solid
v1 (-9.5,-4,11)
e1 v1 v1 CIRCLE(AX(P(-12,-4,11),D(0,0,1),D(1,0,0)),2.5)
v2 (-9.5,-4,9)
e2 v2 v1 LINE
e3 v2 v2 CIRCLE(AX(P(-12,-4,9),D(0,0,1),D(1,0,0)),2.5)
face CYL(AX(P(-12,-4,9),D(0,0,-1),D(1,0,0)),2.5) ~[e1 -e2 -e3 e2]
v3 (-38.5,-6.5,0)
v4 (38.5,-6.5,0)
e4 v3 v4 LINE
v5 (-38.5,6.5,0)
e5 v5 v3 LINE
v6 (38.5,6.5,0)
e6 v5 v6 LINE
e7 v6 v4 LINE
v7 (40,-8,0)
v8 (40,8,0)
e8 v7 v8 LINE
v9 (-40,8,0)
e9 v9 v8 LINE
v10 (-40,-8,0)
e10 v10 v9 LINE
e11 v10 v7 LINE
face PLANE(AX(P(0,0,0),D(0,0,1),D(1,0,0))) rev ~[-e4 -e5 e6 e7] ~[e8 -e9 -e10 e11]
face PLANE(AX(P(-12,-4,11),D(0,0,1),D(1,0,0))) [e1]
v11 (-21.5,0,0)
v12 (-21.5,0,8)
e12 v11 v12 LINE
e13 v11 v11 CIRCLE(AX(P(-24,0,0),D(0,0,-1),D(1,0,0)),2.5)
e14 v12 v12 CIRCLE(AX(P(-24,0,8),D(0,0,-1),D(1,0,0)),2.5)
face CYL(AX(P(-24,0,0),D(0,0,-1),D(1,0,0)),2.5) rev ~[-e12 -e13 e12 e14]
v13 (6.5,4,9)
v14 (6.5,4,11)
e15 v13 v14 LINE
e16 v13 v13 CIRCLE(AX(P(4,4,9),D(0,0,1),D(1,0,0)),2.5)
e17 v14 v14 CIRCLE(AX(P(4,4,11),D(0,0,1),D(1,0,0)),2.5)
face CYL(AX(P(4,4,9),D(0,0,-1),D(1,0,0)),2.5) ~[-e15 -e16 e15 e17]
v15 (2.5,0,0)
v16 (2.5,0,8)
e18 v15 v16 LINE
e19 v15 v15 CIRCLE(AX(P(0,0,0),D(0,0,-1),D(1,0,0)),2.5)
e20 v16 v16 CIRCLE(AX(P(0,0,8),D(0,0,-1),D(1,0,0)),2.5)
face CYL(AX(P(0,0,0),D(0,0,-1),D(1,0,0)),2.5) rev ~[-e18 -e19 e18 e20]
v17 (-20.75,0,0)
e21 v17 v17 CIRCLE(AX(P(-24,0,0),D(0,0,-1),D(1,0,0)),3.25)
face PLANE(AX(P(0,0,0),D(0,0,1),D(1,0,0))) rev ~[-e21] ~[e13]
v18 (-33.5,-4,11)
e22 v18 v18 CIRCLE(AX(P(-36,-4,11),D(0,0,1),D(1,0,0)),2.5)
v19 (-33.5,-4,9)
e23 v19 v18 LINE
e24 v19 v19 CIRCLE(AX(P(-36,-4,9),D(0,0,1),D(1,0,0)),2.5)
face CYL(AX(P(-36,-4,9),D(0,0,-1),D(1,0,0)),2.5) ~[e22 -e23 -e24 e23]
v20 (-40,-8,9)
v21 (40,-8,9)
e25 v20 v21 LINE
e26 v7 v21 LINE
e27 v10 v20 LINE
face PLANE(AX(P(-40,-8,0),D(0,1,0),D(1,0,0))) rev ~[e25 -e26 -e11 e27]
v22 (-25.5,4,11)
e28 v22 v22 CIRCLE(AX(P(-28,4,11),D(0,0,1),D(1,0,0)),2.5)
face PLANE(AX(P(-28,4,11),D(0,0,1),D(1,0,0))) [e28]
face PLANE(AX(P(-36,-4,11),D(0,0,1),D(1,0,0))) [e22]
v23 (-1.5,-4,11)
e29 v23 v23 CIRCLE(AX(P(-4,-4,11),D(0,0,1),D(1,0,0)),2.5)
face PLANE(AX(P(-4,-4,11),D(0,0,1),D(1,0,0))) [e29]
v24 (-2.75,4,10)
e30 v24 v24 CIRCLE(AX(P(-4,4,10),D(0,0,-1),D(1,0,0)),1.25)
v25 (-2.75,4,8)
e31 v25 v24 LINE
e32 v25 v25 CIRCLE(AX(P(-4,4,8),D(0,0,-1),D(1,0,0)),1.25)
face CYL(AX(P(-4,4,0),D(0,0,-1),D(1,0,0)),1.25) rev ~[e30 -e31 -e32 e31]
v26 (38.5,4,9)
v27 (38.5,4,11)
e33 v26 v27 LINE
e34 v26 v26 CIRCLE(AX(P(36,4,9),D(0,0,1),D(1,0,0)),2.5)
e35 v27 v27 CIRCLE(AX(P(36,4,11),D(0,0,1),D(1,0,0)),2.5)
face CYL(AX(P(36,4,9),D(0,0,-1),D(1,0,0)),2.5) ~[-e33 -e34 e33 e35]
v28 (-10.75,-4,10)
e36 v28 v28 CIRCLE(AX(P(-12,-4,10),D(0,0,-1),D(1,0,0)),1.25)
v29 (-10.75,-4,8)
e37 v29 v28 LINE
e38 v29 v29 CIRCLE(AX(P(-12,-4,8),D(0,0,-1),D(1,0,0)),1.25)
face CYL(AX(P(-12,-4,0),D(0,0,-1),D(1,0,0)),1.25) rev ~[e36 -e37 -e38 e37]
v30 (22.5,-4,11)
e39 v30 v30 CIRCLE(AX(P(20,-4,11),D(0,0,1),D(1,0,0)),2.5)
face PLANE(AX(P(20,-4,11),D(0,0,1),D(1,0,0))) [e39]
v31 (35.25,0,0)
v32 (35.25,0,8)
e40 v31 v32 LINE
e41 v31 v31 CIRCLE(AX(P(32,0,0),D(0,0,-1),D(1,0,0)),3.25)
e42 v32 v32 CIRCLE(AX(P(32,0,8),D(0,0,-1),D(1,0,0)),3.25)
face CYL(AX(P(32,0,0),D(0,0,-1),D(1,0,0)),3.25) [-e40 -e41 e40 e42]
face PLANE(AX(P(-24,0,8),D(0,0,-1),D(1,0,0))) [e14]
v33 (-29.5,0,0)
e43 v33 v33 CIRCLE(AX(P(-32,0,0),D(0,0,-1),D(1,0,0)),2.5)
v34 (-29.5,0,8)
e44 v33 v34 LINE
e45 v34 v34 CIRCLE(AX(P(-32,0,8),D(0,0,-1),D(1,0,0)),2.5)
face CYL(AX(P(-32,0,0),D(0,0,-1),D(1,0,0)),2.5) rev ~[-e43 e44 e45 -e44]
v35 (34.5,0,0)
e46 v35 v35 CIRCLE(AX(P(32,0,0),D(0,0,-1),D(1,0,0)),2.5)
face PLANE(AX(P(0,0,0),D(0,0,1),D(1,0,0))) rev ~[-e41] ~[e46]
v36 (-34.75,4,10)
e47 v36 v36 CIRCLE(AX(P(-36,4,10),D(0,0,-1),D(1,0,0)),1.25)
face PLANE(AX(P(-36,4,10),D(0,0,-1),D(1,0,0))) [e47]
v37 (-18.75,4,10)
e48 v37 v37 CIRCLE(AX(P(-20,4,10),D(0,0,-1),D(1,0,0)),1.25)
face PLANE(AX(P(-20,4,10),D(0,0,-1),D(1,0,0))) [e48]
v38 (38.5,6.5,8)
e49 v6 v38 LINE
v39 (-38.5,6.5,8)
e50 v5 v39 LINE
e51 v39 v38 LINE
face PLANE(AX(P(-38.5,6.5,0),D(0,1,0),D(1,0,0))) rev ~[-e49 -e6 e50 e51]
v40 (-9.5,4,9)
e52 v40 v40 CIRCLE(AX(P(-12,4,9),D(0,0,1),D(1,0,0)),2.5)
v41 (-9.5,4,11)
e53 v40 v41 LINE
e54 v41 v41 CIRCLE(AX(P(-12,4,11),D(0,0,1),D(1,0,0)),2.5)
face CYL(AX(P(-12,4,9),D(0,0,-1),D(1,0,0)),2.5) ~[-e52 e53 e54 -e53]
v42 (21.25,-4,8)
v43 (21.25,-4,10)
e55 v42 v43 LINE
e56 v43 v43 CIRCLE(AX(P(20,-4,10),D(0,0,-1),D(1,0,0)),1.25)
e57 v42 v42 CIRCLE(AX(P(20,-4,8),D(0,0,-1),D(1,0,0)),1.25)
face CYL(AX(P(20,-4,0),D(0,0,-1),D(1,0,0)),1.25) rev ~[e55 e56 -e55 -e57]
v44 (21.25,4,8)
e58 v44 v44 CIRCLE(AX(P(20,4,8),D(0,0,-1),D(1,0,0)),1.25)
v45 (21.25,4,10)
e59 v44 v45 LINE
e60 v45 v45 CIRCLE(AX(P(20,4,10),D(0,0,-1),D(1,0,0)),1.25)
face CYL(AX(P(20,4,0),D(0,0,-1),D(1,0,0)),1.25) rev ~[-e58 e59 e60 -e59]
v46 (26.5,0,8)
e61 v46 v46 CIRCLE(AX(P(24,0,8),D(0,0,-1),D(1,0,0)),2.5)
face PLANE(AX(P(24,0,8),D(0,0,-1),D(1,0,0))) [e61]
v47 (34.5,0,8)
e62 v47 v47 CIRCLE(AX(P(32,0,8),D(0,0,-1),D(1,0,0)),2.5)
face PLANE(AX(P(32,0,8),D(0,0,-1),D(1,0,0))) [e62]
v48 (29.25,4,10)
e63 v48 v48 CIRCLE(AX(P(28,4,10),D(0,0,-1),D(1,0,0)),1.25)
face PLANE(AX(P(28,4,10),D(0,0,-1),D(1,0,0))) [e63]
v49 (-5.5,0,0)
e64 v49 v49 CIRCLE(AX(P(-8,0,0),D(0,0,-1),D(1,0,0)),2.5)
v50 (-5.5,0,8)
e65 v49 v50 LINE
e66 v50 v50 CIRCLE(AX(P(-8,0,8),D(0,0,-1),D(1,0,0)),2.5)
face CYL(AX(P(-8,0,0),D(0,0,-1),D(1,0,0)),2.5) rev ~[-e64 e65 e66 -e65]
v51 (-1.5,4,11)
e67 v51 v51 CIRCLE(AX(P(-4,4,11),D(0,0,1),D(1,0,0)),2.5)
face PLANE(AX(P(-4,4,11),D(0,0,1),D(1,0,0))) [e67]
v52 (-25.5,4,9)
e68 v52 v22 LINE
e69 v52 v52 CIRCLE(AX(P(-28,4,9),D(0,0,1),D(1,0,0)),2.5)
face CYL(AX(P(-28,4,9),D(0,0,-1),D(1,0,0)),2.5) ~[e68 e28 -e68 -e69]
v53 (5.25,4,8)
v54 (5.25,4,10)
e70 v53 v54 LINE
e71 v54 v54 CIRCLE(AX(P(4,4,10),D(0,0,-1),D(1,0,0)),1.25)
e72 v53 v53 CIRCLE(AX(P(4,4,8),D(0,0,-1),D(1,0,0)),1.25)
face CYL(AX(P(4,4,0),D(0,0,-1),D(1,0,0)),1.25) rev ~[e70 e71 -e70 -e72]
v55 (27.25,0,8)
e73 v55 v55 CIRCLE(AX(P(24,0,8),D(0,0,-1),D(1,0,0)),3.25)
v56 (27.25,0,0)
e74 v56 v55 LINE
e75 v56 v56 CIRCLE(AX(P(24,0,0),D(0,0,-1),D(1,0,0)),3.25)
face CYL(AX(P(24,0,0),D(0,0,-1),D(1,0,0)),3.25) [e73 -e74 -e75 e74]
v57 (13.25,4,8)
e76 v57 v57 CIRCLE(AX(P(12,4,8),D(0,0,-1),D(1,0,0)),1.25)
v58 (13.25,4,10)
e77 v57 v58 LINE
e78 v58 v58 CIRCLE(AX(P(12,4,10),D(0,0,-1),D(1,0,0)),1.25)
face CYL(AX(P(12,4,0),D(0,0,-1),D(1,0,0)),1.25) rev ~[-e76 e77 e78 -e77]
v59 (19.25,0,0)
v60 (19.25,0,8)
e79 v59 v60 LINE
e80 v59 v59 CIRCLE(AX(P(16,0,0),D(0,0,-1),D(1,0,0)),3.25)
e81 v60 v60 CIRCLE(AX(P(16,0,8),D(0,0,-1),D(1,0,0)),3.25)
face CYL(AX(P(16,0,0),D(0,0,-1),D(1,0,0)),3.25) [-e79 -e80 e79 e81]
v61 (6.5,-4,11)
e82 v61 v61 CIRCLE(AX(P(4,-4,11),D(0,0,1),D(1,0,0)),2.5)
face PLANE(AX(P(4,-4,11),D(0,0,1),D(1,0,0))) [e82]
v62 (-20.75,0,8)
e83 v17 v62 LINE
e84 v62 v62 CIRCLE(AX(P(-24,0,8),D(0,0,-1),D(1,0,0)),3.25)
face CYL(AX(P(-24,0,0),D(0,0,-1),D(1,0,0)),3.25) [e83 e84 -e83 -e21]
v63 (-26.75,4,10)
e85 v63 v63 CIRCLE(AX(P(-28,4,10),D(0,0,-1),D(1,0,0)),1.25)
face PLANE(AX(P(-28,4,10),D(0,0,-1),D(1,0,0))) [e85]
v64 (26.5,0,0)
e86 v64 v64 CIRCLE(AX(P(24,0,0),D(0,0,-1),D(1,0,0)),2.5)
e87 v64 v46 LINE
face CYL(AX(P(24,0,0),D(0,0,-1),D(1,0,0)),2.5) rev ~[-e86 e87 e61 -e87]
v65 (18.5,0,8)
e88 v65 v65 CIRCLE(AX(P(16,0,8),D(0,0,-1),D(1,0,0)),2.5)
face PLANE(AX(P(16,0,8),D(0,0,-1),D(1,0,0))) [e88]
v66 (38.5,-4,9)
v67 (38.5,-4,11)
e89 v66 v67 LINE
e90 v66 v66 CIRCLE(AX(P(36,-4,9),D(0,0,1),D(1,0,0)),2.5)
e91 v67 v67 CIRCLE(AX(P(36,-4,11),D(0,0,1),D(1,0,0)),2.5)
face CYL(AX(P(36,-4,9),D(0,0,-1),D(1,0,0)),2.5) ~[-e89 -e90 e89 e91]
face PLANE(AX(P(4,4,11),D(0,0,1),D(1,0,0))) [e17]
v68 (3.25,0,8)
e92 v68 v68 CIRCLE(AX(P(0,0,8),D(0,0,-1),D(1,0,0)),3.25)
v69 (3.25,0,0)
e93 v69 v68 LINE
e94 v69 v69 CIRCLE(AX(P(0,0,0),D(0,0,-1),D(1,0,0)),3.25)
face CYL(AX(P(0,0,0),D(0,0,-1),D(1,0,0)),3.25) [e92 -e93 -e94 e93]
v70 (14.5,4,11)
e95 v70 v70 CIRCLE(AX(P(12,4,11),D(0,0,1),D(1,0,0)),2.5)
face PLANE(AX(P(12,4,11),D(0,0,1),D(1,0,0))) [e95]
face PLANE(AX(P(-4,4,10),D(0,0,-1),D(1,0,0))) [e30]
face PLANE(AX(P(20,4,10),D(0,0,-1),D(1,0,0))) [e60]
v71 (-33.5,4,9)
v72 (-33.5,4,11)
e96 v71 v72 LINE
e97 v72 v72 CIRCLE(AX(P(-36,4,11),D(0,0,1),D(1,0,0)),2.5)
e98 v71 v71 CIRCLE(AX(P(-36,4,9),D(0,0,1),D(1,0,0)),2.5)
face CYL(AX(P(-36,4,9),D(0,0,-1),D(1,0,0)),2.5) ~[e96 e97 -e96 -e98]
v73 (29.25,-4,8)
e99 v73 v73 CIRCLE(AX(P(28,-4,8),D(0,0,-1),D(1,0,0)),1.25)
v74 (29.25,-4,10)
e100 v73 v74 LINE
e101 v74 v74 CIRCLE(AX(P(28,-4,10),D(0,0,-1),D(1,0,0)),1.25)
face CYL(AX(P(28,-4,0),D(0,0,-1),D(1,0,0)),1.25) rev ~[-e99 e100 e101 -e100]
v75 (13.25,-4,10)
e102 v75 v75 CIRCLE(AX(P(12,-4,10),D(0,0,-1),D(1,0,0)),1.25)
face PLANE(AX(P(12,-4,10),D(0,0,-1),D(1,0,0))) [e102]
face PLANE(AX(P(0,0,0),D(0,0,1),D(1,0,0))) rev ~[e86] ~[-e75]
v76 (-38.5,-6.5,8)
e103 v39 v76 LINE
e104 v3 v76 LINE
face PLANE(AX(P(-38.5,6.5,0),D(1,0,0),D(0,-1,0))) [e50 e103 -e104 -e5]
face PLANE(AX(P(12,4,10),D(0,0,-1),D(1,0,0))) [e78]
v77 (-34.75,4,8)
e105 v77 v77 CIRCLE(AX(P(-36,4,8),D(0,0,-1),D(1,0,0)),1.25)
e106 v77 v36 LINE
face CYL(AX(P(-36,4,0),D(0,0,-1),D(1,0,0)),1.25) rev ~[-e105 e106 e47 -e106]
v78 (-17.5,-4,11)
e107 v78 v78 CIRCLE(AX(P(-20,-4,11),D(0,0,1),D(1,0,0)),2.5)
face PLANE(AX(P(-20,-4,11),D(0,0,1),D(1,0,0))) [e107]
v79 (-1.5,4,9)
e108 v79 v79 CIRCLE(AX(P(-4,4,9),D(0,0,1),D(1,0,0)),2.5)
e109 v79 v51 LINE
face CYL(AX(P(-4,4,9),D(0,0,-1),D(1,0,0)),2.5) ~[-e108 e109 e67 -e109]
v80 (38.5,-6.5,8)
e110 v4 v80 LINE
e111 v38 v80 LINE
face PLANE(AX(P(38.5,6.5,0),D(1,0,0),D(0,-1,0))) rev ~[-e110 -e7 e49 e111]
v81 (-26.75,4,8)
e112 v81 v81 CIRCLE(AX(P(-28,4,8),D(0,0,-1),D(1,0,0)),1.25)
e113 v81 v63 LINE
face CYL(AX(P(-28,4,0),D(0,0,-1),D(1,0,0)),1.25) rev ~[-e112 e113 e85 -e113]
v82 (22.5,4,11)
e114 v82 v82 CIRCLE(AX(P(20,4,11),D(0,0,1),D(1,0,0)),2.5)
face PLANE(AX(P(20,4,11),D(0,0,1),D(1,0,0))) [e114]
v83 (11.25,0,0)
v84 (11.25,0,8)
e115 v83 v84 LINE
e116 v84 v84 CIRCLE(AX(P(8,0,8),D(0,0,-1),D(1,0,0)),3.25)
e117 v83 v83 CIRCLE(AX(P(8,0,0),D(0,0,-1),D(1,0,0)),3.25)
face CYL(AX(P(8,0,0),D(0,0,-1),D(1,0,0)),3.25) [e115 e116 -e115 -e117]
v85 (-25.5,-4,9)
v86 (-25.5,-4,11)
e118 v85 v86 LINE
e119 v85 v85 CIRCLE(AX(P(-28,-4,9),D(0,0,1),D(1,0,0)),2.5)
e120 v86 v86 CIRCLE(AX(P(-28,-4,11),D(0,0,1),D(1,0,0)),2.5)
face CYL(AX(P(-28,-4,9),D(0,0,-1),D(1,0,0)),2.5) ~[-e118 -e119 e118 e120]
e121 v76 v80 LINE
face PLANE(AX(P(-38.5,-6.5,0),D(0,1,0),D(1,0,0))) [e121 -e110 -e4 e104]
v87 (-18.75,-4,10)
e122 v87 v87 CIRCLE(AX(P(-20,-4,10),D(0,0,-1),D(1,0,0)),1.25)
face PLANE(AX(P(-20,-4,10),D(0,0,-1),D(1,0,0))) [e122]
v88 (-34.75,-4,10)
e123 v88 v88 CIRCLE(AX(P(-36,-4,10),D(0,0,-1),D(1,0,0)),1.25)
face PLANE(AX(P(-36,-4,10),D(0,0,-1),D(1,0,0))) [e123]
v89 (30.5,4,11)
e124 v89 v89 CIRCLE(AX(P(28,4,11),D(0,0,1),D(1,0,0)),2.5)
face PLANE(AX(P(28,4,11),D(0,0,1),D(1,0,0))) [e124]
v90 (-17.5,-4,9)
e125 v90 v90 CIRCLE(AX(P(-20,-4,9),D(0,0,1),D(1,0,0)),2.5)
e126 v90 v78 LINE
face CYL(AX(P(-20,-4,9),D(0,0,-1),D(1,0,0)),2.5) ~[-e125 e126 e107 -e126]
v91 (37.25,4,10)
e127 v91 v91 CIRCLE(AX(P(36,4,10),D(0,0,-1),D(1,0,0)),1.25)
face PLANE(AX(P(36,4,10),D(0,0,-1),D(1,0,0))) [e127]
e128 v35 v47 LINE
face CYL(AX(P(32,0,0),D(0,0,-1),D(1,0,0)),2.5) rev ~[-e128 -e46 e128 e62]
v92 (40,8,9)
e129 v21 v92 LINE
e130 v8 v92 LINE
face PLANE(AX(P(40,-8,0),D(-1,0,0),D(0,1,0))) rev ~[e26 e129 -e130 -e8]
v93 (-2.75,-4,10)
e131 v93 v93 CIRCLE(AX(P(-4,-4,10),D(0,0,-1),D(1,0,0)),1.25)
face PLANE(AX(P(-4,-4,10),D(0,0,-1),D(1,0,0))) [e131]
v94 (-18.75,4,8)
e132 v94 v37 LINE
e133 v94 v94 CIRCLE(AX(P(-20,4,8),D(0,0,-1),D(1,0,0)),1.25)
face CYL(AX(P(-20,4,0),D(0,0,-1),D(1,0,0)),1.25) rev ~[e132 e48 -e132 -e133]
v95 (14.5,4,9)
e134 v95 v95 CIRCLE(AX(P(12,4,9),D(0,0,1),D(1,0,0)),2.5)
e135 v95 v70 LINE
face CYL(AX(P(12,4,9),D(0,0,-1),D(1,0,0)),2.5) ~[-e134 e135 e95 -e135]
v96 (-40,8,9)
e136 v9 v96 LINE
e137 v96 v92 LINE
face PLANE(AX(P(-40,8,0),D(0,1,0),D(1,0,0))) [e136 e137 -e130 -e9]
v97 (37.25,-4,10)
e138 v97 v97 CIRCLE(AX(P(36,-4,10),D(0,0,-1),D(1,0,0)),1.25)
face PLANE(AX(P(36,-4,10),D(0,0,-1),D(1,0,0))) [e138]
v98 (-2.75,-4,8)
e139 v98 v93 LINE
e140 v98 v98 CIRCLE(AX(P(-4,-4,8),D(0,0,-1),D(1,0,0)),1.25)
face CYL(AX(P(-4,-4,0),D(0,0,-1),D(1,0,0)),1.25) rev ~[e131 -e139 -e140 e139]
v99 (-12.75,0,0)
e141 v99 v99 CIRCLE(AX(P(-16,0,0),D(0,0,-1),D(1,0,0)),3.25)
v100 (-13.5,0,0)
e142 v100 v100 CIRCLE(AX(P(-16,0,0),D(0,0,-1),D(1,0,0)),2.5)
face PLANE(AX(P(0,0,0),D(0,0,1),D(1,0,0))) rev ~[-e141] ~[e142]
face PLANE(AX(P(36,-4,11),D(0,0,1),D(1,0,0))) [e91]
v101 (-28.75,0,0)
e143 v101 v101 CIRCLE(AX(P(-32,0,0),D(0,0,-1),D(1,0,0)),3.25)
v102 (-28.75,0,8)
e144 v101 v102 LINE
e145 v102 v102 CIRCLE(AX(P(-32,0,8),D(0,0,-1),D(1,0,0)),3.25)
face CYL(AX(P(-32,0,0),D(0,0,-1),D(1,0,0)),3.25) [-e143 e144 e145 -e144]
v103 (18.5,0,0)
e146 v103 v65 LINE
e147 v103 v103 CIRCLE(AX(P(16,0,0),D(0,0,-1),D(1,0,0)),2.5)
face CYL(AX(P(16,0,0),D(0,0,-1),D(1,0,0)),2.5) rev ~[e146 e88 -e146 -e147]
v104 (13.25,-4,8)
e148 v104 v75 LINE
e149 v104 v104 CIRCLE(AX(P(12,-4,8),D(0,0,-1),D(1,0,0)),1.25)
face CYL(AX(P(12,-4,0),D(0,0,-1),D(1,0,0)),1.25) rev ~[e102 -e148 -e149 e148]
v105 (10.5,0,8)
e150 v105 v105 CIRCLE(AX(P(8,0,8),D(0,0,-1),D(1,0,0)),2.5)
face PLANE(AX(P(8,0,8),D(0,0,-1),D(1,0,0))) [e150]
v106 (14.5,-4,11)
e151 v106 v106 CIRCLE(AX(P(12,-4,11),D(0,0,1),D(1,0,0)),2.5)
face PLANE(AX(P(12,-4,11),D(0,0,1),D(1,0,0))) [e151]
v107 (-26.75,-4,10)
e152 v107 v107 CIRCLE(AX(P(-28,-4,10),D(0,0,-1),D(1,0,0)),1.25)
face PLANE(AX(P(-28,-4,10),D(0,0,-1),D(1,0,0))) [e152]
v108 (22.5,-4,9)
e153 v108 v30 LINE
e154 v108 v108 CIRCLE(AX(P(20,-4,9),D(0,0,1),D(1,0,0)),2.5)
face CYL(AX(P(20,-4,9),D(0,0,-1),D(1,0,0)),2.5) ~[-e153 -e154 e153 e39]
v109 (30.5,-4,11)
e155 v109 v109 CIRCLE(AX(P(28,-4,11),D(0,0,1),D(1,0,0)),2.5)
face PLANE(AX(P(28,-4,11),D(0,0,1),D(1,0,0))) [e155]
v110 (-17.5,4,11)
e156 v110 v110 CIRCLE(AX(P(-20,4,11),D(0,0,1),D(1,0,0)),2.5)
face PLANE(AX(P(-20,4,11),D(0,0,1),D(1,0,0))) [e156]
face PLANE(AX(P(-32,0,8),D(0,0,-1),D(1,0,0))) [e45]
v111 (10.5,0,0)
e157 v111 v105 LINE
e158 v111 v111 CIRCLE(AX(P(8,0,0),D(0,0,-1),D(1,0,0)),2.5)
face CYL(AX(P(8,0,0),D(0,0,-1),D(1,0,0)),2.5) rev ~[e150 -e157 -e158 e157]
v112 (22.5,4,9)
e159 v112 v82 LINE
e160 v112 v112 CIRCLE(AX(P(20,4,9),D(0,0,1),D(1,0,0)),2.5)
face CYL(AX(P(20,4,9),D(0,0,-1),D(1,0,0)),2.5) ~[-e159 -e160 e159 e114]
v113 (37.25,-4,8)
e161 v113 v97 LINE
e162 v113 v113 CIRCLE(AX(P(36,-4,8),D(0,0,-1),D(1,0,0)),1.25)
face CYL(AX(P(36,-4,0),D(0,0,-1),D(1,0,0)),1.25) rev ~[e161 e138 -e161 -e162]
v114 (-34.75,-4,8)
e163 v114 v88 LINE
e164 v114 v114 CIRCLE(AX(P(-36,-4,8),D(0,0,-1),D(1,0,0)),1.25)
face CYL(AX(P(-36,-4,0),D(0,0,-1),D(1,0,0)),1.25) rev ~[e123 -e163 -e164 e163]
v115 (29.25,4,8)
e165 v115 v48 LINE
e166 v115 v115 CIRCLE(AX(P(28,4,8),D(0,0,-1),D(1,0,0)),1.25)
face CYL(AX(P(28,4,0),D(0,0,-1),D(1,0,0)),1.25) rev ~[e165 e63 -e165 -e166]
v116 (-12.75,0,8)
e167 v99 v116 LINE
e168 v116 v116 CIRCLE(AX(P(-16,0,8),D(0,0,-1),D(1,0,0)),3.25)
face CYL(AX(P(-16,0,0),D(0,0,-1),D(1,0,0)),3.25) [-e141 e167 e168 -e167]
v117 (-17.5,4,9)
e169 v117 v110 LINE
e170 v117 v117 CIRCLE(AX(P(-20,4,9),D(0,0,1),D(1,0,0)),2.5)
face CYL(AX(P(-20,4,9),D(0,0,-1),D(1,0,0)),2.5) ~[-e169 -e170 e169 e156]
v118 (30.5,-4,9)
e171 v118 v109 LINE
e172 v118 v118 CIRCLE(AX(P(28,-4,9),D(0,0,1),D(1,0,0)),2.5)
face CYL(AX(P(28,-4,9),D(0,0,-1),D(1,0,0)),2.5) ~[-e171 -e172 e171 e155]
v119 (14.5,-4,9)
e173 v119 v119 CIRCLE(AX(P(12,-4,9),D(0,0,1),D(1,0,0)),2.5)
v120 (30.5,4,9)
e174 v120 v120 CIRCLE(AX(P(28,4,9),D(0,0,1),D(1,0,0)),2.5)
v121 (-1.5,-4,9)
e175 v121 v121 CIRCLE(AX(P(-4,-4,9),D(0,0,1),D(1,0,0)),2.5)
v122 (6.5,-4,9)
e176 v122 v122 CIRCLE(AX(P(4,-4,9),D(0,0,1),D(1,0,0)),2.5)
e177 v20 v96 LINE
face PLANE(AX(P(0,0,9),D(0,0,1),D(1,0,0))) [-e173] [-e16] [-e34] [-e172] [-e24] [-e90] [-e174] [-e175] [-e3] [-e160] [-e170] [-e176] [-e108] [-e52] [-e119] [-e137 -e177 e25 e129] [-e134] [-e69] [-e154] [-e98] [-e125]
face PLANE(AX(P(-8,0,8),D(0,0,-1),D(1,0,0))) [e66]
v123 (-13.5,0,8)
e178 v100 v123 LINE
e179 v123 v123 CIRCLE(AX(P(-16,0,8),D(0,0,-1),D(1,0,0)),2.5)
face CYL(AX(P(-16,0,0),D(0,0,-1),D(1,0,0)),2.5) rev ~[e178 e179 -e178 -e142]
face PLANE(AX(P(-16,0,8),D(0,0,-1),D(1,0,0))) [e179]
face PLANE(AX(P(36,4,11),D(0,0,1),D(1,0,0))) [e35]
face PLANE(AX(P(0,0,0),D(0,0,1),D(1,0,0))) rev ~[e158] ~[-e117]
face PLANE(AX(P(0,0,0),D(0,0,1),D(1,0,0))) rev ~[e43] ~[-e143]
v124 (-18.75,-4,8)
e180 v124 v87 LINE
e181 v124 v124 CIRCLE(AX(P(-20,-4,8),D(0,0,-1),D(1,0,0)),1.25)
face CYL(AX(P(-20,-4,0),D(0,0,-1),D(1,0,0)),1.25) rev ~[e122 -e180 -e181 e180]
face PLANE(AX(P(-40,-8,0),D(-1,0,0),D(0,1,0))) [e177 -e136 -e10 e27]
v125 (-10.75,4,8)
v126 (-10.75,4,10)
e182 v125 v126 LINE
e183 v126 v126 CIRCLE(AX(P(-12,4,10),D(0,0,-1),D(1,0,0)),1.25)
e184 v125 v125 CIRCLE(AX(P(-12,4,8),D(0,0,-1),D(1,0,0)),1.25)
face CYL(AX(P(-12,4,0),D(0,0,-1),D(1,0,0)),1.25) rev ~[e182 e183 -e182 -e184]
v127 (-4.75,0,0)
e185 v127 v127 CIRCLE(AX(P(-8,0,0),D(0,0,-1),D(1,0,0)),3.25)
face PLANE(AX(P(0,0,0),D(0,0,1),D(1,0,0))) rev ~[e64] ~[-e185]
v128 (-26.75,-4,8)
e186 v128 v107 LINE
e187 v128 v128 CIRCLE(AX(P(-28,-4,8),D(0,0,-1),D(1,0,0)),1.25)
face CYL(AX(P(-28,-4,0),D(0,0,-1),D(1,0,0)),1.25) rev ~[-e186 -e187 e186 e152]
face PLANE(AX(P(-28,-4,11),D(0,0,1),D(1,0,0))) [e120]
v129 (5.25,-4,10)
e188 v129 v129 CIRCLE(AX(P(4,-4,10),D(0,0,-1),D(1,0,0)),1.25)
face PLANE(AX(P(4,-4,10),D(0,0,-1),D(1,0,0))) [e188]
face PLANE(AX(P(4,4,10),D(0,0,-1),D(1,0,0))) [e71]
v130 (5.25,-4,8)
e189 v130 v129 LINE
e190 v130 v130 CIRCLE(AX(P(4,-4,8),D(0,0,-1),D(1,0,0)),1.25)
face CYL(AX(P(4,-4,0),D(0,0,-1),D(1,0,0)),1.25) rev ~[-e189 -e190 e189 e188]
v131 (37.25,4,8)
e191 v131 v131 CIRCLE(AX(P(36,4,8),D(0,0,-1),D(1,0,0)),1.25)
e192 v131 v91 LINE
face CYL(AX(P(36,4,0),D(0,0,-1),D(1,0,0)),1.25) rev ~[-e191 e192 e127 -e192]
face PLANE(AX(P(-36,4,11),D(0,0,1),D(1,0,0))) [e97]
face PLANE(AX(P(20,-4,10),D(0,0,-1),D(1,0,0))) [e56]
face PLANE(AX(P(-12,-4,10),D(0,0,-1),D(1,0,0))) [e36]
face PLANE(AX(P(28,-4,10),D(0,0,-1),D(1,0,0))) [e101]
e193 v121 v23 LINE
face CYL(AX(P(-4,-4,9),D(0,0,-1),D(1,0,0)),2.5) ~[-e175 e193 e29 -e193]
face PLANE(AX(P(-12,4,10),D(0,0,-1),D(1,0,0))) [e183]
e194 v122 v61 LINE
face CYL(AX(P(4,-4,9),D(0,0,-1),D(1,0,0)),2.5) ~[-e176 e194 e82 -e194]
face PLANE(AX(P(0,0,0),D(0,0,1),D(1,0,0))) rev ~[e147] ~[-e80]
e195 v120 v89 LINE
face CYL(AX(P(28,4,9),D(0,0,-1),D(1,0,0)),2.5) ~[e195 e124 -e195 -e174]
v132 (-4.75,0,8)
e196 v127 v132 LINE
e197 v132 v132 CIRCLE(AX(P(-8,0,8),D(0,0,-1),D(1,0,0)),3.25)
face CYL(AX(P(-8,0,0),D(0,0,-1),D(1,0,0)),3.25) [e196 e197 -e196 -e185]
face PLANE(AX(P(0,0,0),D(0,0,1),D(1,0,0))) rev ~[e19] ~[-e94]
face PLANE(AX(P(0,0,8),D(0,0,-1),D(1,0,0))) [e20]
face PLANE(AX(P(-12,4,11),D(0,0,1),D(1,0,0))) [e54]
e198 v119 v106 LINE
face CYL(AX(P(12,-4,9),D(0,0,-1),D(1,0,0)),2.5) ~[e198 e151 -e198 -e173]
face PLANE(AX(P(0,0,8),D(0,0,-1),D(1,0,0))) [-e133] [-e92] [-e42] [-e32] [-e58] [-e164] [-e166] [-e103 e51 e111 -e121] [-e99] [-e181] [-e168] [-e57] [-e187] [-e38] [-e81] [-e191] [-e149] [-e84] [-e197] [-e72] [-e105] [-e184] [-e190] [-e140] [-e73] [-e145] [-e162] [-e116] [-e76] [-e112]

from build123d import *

# Parameters (mm, degrees)
F0_W     = 80
F0_H     = 16
F1_DEPTH = 9
F2_R     = 2.5
F3_DEPTH = 2
F4_W     = 77
F4_H     = 13
F4_R     = 3.25
F4_R_2   = 2.5
F5_DEPTH = 8
F6_R     = 1.25
F7_DEPTH = 10


with BuildPart() as f1:
    # F0 (on Top) → F1 (new body)
    with BuildSketch(Plane.XY):
        Rectangle(F0_W, F0_H)
    extrude(amount=F1_DEPTH)

    # F2 (on face) → F3 (join)
    with BuildSketch(Plane.XY.offset(9)):
        with Locations((-36, 4)):
            Circle(F2_R)
        with Locations((-36, -4)):
            Circle(F2_R)
        with Locations((-28, 4)):
            Circle(F2_R)
        with Locations((-28, -4)):
            Circle(F2_R)
        with Locations((-20, 4)):
            Circle(F2_R)
        with Locations((-20, -4)):
            Circle(F2_R)
        with Locations((-12, 4)):
            Circle(F2_R)
        with Locations((-12, -4)):
            Circle(F2_R)
        with Locations((-4, 4)):
            Circle(F2_R)
        with Locations((-4, -4)):
            Circle(F2_R)
        with Locations((4, 4)):
            Circle(F2_R)
        with Locations((4, -4)):
            Circle(F2_R)
        with Locations((12, 4)):
            Circle(F2_R)
        with Locations((12, -4)):
            Circle(F2_R)
        with Locations((20, 4)):
            Circle(F2_R)
        with Locations((20, -4)):
            Circle(F2_R)
        with Locations((28, 4)):
            Circle(F2_R)
        with Locations((28, -4)):
            Circle(F2_R)
        with Locations((36, 4)):
            Circle(F2_R)
        with Locations((36, -4)):
            Circle(F2_R)
    extrude(amount=F3_DEPTH)

    # F4 (on face) → F5 (cut)
    with BuildSketch(Plane(origin=(0, 0, 0), x_dir=(1, 0, 0), z_dir=(0, 0, -1))):
        Rectangle(F4_W, F4_H)
        with Locations((-32, 0)):
            Circle(F4_R, mode=Mode.SUBTRACT)
        with Locations((-24, 0)):
            Circle(F4_R, mode=Mode.SUBTRACT)
        with Locations((-16, 0)):
            Circle(F4_R, mode=Mode.SUBTRACT)
        with Locations((-8, 0)):
            Circle(F4_R, mode=Mode.SUBTRACT)
        Circle(F4_R, mode=Mode.SUBTRACT)
        with Locations((8, 0)):
            Circle(F4_R, mode=Mode.SUBTRACT)
        with Locations((16, 0)):
            Circle(F4_R, mode=Mode.SUBTRACT)
        with Locations((24, 0)):
            Circle(F4_R, mode=Mode.SUBTRACT)
        with Locations((32, 0)):
            Circle(F4_R, mode=Mode.SUBTRACT)
        with Locations((-32, 0)):
            Circle(F4_R_2)
        with Locations((-24, 0)):
            Circle(F4_R_2)
        with Locations((-16, 0)):
            Circle(F4_R_2)
        with Locations((-8, 0)):
            Circle(F4_R_2)
        Circle(F4_R_2)
        with Locations((8, 0)):
            Circle(F4_R_2)
        with Locations((16, 0)):
            Circle(F4_R_2)
        with Locations((24, 0)):
            Circle(F4_R_2)
        with Locations((32, 0)):
            Circle(F4_R_2)
    extrude(amount=-F5_DEPTH, mode=Mode.SUBTRACT)

    # F6 (on face) → F7 (cut)
    with BuildSketch(Plane(origin=(0, 0, 0), x_dir=(1, 0, 0), z_dir=(0, 0, -1))):
        with Locations((-36, 4)):
            Circle(F6_R)
        with Locations((-36, -4)):
            Circle(F6_R)
        with Locations((-28, 4)):
            Circle(F6_R)
        with Locations((-28, -4)):
            Circle(F6_R)
        with Locations((-20, 4)):
            Circle(F6_R)
        with Locations((-20, -4)):
            Circle(F6_R)
        with Locations((-12, 4)):
            Circle(F6_R)
        with Locations((-12, -4)):
            Circle(F6_R)
        with Locations((-4, 4)):
            Circle(F6_R)
        with Locations((-4, -4)):
            Circle(F6_R)
        with Locations((4, 4)):
            Circle(F6_R)
        with Locations((4, -4)):
            Circle(F6_R)
        with Locations((12, 4)):
            Circle(F6_R)
        with Locations((12, -4)):
            Circle(F6_R)
        with Locations((20, 4)):
            Circle(F6_R)
        with Locations((20, -4)):
            Circle(F6_R)
        with Locations((28, 4)):
            Circle(F6_R)
        with Locations((28, -4)):
            Circle(F6_R)
        with Locations((36, 4)):
            Circle(F6_R)
        with Locations((36, -4)):
            Circle(F6_R)
    extrude(amount=-F7_DEPTH, mode=Mode.SUBTRACT)


solid = f1.part
